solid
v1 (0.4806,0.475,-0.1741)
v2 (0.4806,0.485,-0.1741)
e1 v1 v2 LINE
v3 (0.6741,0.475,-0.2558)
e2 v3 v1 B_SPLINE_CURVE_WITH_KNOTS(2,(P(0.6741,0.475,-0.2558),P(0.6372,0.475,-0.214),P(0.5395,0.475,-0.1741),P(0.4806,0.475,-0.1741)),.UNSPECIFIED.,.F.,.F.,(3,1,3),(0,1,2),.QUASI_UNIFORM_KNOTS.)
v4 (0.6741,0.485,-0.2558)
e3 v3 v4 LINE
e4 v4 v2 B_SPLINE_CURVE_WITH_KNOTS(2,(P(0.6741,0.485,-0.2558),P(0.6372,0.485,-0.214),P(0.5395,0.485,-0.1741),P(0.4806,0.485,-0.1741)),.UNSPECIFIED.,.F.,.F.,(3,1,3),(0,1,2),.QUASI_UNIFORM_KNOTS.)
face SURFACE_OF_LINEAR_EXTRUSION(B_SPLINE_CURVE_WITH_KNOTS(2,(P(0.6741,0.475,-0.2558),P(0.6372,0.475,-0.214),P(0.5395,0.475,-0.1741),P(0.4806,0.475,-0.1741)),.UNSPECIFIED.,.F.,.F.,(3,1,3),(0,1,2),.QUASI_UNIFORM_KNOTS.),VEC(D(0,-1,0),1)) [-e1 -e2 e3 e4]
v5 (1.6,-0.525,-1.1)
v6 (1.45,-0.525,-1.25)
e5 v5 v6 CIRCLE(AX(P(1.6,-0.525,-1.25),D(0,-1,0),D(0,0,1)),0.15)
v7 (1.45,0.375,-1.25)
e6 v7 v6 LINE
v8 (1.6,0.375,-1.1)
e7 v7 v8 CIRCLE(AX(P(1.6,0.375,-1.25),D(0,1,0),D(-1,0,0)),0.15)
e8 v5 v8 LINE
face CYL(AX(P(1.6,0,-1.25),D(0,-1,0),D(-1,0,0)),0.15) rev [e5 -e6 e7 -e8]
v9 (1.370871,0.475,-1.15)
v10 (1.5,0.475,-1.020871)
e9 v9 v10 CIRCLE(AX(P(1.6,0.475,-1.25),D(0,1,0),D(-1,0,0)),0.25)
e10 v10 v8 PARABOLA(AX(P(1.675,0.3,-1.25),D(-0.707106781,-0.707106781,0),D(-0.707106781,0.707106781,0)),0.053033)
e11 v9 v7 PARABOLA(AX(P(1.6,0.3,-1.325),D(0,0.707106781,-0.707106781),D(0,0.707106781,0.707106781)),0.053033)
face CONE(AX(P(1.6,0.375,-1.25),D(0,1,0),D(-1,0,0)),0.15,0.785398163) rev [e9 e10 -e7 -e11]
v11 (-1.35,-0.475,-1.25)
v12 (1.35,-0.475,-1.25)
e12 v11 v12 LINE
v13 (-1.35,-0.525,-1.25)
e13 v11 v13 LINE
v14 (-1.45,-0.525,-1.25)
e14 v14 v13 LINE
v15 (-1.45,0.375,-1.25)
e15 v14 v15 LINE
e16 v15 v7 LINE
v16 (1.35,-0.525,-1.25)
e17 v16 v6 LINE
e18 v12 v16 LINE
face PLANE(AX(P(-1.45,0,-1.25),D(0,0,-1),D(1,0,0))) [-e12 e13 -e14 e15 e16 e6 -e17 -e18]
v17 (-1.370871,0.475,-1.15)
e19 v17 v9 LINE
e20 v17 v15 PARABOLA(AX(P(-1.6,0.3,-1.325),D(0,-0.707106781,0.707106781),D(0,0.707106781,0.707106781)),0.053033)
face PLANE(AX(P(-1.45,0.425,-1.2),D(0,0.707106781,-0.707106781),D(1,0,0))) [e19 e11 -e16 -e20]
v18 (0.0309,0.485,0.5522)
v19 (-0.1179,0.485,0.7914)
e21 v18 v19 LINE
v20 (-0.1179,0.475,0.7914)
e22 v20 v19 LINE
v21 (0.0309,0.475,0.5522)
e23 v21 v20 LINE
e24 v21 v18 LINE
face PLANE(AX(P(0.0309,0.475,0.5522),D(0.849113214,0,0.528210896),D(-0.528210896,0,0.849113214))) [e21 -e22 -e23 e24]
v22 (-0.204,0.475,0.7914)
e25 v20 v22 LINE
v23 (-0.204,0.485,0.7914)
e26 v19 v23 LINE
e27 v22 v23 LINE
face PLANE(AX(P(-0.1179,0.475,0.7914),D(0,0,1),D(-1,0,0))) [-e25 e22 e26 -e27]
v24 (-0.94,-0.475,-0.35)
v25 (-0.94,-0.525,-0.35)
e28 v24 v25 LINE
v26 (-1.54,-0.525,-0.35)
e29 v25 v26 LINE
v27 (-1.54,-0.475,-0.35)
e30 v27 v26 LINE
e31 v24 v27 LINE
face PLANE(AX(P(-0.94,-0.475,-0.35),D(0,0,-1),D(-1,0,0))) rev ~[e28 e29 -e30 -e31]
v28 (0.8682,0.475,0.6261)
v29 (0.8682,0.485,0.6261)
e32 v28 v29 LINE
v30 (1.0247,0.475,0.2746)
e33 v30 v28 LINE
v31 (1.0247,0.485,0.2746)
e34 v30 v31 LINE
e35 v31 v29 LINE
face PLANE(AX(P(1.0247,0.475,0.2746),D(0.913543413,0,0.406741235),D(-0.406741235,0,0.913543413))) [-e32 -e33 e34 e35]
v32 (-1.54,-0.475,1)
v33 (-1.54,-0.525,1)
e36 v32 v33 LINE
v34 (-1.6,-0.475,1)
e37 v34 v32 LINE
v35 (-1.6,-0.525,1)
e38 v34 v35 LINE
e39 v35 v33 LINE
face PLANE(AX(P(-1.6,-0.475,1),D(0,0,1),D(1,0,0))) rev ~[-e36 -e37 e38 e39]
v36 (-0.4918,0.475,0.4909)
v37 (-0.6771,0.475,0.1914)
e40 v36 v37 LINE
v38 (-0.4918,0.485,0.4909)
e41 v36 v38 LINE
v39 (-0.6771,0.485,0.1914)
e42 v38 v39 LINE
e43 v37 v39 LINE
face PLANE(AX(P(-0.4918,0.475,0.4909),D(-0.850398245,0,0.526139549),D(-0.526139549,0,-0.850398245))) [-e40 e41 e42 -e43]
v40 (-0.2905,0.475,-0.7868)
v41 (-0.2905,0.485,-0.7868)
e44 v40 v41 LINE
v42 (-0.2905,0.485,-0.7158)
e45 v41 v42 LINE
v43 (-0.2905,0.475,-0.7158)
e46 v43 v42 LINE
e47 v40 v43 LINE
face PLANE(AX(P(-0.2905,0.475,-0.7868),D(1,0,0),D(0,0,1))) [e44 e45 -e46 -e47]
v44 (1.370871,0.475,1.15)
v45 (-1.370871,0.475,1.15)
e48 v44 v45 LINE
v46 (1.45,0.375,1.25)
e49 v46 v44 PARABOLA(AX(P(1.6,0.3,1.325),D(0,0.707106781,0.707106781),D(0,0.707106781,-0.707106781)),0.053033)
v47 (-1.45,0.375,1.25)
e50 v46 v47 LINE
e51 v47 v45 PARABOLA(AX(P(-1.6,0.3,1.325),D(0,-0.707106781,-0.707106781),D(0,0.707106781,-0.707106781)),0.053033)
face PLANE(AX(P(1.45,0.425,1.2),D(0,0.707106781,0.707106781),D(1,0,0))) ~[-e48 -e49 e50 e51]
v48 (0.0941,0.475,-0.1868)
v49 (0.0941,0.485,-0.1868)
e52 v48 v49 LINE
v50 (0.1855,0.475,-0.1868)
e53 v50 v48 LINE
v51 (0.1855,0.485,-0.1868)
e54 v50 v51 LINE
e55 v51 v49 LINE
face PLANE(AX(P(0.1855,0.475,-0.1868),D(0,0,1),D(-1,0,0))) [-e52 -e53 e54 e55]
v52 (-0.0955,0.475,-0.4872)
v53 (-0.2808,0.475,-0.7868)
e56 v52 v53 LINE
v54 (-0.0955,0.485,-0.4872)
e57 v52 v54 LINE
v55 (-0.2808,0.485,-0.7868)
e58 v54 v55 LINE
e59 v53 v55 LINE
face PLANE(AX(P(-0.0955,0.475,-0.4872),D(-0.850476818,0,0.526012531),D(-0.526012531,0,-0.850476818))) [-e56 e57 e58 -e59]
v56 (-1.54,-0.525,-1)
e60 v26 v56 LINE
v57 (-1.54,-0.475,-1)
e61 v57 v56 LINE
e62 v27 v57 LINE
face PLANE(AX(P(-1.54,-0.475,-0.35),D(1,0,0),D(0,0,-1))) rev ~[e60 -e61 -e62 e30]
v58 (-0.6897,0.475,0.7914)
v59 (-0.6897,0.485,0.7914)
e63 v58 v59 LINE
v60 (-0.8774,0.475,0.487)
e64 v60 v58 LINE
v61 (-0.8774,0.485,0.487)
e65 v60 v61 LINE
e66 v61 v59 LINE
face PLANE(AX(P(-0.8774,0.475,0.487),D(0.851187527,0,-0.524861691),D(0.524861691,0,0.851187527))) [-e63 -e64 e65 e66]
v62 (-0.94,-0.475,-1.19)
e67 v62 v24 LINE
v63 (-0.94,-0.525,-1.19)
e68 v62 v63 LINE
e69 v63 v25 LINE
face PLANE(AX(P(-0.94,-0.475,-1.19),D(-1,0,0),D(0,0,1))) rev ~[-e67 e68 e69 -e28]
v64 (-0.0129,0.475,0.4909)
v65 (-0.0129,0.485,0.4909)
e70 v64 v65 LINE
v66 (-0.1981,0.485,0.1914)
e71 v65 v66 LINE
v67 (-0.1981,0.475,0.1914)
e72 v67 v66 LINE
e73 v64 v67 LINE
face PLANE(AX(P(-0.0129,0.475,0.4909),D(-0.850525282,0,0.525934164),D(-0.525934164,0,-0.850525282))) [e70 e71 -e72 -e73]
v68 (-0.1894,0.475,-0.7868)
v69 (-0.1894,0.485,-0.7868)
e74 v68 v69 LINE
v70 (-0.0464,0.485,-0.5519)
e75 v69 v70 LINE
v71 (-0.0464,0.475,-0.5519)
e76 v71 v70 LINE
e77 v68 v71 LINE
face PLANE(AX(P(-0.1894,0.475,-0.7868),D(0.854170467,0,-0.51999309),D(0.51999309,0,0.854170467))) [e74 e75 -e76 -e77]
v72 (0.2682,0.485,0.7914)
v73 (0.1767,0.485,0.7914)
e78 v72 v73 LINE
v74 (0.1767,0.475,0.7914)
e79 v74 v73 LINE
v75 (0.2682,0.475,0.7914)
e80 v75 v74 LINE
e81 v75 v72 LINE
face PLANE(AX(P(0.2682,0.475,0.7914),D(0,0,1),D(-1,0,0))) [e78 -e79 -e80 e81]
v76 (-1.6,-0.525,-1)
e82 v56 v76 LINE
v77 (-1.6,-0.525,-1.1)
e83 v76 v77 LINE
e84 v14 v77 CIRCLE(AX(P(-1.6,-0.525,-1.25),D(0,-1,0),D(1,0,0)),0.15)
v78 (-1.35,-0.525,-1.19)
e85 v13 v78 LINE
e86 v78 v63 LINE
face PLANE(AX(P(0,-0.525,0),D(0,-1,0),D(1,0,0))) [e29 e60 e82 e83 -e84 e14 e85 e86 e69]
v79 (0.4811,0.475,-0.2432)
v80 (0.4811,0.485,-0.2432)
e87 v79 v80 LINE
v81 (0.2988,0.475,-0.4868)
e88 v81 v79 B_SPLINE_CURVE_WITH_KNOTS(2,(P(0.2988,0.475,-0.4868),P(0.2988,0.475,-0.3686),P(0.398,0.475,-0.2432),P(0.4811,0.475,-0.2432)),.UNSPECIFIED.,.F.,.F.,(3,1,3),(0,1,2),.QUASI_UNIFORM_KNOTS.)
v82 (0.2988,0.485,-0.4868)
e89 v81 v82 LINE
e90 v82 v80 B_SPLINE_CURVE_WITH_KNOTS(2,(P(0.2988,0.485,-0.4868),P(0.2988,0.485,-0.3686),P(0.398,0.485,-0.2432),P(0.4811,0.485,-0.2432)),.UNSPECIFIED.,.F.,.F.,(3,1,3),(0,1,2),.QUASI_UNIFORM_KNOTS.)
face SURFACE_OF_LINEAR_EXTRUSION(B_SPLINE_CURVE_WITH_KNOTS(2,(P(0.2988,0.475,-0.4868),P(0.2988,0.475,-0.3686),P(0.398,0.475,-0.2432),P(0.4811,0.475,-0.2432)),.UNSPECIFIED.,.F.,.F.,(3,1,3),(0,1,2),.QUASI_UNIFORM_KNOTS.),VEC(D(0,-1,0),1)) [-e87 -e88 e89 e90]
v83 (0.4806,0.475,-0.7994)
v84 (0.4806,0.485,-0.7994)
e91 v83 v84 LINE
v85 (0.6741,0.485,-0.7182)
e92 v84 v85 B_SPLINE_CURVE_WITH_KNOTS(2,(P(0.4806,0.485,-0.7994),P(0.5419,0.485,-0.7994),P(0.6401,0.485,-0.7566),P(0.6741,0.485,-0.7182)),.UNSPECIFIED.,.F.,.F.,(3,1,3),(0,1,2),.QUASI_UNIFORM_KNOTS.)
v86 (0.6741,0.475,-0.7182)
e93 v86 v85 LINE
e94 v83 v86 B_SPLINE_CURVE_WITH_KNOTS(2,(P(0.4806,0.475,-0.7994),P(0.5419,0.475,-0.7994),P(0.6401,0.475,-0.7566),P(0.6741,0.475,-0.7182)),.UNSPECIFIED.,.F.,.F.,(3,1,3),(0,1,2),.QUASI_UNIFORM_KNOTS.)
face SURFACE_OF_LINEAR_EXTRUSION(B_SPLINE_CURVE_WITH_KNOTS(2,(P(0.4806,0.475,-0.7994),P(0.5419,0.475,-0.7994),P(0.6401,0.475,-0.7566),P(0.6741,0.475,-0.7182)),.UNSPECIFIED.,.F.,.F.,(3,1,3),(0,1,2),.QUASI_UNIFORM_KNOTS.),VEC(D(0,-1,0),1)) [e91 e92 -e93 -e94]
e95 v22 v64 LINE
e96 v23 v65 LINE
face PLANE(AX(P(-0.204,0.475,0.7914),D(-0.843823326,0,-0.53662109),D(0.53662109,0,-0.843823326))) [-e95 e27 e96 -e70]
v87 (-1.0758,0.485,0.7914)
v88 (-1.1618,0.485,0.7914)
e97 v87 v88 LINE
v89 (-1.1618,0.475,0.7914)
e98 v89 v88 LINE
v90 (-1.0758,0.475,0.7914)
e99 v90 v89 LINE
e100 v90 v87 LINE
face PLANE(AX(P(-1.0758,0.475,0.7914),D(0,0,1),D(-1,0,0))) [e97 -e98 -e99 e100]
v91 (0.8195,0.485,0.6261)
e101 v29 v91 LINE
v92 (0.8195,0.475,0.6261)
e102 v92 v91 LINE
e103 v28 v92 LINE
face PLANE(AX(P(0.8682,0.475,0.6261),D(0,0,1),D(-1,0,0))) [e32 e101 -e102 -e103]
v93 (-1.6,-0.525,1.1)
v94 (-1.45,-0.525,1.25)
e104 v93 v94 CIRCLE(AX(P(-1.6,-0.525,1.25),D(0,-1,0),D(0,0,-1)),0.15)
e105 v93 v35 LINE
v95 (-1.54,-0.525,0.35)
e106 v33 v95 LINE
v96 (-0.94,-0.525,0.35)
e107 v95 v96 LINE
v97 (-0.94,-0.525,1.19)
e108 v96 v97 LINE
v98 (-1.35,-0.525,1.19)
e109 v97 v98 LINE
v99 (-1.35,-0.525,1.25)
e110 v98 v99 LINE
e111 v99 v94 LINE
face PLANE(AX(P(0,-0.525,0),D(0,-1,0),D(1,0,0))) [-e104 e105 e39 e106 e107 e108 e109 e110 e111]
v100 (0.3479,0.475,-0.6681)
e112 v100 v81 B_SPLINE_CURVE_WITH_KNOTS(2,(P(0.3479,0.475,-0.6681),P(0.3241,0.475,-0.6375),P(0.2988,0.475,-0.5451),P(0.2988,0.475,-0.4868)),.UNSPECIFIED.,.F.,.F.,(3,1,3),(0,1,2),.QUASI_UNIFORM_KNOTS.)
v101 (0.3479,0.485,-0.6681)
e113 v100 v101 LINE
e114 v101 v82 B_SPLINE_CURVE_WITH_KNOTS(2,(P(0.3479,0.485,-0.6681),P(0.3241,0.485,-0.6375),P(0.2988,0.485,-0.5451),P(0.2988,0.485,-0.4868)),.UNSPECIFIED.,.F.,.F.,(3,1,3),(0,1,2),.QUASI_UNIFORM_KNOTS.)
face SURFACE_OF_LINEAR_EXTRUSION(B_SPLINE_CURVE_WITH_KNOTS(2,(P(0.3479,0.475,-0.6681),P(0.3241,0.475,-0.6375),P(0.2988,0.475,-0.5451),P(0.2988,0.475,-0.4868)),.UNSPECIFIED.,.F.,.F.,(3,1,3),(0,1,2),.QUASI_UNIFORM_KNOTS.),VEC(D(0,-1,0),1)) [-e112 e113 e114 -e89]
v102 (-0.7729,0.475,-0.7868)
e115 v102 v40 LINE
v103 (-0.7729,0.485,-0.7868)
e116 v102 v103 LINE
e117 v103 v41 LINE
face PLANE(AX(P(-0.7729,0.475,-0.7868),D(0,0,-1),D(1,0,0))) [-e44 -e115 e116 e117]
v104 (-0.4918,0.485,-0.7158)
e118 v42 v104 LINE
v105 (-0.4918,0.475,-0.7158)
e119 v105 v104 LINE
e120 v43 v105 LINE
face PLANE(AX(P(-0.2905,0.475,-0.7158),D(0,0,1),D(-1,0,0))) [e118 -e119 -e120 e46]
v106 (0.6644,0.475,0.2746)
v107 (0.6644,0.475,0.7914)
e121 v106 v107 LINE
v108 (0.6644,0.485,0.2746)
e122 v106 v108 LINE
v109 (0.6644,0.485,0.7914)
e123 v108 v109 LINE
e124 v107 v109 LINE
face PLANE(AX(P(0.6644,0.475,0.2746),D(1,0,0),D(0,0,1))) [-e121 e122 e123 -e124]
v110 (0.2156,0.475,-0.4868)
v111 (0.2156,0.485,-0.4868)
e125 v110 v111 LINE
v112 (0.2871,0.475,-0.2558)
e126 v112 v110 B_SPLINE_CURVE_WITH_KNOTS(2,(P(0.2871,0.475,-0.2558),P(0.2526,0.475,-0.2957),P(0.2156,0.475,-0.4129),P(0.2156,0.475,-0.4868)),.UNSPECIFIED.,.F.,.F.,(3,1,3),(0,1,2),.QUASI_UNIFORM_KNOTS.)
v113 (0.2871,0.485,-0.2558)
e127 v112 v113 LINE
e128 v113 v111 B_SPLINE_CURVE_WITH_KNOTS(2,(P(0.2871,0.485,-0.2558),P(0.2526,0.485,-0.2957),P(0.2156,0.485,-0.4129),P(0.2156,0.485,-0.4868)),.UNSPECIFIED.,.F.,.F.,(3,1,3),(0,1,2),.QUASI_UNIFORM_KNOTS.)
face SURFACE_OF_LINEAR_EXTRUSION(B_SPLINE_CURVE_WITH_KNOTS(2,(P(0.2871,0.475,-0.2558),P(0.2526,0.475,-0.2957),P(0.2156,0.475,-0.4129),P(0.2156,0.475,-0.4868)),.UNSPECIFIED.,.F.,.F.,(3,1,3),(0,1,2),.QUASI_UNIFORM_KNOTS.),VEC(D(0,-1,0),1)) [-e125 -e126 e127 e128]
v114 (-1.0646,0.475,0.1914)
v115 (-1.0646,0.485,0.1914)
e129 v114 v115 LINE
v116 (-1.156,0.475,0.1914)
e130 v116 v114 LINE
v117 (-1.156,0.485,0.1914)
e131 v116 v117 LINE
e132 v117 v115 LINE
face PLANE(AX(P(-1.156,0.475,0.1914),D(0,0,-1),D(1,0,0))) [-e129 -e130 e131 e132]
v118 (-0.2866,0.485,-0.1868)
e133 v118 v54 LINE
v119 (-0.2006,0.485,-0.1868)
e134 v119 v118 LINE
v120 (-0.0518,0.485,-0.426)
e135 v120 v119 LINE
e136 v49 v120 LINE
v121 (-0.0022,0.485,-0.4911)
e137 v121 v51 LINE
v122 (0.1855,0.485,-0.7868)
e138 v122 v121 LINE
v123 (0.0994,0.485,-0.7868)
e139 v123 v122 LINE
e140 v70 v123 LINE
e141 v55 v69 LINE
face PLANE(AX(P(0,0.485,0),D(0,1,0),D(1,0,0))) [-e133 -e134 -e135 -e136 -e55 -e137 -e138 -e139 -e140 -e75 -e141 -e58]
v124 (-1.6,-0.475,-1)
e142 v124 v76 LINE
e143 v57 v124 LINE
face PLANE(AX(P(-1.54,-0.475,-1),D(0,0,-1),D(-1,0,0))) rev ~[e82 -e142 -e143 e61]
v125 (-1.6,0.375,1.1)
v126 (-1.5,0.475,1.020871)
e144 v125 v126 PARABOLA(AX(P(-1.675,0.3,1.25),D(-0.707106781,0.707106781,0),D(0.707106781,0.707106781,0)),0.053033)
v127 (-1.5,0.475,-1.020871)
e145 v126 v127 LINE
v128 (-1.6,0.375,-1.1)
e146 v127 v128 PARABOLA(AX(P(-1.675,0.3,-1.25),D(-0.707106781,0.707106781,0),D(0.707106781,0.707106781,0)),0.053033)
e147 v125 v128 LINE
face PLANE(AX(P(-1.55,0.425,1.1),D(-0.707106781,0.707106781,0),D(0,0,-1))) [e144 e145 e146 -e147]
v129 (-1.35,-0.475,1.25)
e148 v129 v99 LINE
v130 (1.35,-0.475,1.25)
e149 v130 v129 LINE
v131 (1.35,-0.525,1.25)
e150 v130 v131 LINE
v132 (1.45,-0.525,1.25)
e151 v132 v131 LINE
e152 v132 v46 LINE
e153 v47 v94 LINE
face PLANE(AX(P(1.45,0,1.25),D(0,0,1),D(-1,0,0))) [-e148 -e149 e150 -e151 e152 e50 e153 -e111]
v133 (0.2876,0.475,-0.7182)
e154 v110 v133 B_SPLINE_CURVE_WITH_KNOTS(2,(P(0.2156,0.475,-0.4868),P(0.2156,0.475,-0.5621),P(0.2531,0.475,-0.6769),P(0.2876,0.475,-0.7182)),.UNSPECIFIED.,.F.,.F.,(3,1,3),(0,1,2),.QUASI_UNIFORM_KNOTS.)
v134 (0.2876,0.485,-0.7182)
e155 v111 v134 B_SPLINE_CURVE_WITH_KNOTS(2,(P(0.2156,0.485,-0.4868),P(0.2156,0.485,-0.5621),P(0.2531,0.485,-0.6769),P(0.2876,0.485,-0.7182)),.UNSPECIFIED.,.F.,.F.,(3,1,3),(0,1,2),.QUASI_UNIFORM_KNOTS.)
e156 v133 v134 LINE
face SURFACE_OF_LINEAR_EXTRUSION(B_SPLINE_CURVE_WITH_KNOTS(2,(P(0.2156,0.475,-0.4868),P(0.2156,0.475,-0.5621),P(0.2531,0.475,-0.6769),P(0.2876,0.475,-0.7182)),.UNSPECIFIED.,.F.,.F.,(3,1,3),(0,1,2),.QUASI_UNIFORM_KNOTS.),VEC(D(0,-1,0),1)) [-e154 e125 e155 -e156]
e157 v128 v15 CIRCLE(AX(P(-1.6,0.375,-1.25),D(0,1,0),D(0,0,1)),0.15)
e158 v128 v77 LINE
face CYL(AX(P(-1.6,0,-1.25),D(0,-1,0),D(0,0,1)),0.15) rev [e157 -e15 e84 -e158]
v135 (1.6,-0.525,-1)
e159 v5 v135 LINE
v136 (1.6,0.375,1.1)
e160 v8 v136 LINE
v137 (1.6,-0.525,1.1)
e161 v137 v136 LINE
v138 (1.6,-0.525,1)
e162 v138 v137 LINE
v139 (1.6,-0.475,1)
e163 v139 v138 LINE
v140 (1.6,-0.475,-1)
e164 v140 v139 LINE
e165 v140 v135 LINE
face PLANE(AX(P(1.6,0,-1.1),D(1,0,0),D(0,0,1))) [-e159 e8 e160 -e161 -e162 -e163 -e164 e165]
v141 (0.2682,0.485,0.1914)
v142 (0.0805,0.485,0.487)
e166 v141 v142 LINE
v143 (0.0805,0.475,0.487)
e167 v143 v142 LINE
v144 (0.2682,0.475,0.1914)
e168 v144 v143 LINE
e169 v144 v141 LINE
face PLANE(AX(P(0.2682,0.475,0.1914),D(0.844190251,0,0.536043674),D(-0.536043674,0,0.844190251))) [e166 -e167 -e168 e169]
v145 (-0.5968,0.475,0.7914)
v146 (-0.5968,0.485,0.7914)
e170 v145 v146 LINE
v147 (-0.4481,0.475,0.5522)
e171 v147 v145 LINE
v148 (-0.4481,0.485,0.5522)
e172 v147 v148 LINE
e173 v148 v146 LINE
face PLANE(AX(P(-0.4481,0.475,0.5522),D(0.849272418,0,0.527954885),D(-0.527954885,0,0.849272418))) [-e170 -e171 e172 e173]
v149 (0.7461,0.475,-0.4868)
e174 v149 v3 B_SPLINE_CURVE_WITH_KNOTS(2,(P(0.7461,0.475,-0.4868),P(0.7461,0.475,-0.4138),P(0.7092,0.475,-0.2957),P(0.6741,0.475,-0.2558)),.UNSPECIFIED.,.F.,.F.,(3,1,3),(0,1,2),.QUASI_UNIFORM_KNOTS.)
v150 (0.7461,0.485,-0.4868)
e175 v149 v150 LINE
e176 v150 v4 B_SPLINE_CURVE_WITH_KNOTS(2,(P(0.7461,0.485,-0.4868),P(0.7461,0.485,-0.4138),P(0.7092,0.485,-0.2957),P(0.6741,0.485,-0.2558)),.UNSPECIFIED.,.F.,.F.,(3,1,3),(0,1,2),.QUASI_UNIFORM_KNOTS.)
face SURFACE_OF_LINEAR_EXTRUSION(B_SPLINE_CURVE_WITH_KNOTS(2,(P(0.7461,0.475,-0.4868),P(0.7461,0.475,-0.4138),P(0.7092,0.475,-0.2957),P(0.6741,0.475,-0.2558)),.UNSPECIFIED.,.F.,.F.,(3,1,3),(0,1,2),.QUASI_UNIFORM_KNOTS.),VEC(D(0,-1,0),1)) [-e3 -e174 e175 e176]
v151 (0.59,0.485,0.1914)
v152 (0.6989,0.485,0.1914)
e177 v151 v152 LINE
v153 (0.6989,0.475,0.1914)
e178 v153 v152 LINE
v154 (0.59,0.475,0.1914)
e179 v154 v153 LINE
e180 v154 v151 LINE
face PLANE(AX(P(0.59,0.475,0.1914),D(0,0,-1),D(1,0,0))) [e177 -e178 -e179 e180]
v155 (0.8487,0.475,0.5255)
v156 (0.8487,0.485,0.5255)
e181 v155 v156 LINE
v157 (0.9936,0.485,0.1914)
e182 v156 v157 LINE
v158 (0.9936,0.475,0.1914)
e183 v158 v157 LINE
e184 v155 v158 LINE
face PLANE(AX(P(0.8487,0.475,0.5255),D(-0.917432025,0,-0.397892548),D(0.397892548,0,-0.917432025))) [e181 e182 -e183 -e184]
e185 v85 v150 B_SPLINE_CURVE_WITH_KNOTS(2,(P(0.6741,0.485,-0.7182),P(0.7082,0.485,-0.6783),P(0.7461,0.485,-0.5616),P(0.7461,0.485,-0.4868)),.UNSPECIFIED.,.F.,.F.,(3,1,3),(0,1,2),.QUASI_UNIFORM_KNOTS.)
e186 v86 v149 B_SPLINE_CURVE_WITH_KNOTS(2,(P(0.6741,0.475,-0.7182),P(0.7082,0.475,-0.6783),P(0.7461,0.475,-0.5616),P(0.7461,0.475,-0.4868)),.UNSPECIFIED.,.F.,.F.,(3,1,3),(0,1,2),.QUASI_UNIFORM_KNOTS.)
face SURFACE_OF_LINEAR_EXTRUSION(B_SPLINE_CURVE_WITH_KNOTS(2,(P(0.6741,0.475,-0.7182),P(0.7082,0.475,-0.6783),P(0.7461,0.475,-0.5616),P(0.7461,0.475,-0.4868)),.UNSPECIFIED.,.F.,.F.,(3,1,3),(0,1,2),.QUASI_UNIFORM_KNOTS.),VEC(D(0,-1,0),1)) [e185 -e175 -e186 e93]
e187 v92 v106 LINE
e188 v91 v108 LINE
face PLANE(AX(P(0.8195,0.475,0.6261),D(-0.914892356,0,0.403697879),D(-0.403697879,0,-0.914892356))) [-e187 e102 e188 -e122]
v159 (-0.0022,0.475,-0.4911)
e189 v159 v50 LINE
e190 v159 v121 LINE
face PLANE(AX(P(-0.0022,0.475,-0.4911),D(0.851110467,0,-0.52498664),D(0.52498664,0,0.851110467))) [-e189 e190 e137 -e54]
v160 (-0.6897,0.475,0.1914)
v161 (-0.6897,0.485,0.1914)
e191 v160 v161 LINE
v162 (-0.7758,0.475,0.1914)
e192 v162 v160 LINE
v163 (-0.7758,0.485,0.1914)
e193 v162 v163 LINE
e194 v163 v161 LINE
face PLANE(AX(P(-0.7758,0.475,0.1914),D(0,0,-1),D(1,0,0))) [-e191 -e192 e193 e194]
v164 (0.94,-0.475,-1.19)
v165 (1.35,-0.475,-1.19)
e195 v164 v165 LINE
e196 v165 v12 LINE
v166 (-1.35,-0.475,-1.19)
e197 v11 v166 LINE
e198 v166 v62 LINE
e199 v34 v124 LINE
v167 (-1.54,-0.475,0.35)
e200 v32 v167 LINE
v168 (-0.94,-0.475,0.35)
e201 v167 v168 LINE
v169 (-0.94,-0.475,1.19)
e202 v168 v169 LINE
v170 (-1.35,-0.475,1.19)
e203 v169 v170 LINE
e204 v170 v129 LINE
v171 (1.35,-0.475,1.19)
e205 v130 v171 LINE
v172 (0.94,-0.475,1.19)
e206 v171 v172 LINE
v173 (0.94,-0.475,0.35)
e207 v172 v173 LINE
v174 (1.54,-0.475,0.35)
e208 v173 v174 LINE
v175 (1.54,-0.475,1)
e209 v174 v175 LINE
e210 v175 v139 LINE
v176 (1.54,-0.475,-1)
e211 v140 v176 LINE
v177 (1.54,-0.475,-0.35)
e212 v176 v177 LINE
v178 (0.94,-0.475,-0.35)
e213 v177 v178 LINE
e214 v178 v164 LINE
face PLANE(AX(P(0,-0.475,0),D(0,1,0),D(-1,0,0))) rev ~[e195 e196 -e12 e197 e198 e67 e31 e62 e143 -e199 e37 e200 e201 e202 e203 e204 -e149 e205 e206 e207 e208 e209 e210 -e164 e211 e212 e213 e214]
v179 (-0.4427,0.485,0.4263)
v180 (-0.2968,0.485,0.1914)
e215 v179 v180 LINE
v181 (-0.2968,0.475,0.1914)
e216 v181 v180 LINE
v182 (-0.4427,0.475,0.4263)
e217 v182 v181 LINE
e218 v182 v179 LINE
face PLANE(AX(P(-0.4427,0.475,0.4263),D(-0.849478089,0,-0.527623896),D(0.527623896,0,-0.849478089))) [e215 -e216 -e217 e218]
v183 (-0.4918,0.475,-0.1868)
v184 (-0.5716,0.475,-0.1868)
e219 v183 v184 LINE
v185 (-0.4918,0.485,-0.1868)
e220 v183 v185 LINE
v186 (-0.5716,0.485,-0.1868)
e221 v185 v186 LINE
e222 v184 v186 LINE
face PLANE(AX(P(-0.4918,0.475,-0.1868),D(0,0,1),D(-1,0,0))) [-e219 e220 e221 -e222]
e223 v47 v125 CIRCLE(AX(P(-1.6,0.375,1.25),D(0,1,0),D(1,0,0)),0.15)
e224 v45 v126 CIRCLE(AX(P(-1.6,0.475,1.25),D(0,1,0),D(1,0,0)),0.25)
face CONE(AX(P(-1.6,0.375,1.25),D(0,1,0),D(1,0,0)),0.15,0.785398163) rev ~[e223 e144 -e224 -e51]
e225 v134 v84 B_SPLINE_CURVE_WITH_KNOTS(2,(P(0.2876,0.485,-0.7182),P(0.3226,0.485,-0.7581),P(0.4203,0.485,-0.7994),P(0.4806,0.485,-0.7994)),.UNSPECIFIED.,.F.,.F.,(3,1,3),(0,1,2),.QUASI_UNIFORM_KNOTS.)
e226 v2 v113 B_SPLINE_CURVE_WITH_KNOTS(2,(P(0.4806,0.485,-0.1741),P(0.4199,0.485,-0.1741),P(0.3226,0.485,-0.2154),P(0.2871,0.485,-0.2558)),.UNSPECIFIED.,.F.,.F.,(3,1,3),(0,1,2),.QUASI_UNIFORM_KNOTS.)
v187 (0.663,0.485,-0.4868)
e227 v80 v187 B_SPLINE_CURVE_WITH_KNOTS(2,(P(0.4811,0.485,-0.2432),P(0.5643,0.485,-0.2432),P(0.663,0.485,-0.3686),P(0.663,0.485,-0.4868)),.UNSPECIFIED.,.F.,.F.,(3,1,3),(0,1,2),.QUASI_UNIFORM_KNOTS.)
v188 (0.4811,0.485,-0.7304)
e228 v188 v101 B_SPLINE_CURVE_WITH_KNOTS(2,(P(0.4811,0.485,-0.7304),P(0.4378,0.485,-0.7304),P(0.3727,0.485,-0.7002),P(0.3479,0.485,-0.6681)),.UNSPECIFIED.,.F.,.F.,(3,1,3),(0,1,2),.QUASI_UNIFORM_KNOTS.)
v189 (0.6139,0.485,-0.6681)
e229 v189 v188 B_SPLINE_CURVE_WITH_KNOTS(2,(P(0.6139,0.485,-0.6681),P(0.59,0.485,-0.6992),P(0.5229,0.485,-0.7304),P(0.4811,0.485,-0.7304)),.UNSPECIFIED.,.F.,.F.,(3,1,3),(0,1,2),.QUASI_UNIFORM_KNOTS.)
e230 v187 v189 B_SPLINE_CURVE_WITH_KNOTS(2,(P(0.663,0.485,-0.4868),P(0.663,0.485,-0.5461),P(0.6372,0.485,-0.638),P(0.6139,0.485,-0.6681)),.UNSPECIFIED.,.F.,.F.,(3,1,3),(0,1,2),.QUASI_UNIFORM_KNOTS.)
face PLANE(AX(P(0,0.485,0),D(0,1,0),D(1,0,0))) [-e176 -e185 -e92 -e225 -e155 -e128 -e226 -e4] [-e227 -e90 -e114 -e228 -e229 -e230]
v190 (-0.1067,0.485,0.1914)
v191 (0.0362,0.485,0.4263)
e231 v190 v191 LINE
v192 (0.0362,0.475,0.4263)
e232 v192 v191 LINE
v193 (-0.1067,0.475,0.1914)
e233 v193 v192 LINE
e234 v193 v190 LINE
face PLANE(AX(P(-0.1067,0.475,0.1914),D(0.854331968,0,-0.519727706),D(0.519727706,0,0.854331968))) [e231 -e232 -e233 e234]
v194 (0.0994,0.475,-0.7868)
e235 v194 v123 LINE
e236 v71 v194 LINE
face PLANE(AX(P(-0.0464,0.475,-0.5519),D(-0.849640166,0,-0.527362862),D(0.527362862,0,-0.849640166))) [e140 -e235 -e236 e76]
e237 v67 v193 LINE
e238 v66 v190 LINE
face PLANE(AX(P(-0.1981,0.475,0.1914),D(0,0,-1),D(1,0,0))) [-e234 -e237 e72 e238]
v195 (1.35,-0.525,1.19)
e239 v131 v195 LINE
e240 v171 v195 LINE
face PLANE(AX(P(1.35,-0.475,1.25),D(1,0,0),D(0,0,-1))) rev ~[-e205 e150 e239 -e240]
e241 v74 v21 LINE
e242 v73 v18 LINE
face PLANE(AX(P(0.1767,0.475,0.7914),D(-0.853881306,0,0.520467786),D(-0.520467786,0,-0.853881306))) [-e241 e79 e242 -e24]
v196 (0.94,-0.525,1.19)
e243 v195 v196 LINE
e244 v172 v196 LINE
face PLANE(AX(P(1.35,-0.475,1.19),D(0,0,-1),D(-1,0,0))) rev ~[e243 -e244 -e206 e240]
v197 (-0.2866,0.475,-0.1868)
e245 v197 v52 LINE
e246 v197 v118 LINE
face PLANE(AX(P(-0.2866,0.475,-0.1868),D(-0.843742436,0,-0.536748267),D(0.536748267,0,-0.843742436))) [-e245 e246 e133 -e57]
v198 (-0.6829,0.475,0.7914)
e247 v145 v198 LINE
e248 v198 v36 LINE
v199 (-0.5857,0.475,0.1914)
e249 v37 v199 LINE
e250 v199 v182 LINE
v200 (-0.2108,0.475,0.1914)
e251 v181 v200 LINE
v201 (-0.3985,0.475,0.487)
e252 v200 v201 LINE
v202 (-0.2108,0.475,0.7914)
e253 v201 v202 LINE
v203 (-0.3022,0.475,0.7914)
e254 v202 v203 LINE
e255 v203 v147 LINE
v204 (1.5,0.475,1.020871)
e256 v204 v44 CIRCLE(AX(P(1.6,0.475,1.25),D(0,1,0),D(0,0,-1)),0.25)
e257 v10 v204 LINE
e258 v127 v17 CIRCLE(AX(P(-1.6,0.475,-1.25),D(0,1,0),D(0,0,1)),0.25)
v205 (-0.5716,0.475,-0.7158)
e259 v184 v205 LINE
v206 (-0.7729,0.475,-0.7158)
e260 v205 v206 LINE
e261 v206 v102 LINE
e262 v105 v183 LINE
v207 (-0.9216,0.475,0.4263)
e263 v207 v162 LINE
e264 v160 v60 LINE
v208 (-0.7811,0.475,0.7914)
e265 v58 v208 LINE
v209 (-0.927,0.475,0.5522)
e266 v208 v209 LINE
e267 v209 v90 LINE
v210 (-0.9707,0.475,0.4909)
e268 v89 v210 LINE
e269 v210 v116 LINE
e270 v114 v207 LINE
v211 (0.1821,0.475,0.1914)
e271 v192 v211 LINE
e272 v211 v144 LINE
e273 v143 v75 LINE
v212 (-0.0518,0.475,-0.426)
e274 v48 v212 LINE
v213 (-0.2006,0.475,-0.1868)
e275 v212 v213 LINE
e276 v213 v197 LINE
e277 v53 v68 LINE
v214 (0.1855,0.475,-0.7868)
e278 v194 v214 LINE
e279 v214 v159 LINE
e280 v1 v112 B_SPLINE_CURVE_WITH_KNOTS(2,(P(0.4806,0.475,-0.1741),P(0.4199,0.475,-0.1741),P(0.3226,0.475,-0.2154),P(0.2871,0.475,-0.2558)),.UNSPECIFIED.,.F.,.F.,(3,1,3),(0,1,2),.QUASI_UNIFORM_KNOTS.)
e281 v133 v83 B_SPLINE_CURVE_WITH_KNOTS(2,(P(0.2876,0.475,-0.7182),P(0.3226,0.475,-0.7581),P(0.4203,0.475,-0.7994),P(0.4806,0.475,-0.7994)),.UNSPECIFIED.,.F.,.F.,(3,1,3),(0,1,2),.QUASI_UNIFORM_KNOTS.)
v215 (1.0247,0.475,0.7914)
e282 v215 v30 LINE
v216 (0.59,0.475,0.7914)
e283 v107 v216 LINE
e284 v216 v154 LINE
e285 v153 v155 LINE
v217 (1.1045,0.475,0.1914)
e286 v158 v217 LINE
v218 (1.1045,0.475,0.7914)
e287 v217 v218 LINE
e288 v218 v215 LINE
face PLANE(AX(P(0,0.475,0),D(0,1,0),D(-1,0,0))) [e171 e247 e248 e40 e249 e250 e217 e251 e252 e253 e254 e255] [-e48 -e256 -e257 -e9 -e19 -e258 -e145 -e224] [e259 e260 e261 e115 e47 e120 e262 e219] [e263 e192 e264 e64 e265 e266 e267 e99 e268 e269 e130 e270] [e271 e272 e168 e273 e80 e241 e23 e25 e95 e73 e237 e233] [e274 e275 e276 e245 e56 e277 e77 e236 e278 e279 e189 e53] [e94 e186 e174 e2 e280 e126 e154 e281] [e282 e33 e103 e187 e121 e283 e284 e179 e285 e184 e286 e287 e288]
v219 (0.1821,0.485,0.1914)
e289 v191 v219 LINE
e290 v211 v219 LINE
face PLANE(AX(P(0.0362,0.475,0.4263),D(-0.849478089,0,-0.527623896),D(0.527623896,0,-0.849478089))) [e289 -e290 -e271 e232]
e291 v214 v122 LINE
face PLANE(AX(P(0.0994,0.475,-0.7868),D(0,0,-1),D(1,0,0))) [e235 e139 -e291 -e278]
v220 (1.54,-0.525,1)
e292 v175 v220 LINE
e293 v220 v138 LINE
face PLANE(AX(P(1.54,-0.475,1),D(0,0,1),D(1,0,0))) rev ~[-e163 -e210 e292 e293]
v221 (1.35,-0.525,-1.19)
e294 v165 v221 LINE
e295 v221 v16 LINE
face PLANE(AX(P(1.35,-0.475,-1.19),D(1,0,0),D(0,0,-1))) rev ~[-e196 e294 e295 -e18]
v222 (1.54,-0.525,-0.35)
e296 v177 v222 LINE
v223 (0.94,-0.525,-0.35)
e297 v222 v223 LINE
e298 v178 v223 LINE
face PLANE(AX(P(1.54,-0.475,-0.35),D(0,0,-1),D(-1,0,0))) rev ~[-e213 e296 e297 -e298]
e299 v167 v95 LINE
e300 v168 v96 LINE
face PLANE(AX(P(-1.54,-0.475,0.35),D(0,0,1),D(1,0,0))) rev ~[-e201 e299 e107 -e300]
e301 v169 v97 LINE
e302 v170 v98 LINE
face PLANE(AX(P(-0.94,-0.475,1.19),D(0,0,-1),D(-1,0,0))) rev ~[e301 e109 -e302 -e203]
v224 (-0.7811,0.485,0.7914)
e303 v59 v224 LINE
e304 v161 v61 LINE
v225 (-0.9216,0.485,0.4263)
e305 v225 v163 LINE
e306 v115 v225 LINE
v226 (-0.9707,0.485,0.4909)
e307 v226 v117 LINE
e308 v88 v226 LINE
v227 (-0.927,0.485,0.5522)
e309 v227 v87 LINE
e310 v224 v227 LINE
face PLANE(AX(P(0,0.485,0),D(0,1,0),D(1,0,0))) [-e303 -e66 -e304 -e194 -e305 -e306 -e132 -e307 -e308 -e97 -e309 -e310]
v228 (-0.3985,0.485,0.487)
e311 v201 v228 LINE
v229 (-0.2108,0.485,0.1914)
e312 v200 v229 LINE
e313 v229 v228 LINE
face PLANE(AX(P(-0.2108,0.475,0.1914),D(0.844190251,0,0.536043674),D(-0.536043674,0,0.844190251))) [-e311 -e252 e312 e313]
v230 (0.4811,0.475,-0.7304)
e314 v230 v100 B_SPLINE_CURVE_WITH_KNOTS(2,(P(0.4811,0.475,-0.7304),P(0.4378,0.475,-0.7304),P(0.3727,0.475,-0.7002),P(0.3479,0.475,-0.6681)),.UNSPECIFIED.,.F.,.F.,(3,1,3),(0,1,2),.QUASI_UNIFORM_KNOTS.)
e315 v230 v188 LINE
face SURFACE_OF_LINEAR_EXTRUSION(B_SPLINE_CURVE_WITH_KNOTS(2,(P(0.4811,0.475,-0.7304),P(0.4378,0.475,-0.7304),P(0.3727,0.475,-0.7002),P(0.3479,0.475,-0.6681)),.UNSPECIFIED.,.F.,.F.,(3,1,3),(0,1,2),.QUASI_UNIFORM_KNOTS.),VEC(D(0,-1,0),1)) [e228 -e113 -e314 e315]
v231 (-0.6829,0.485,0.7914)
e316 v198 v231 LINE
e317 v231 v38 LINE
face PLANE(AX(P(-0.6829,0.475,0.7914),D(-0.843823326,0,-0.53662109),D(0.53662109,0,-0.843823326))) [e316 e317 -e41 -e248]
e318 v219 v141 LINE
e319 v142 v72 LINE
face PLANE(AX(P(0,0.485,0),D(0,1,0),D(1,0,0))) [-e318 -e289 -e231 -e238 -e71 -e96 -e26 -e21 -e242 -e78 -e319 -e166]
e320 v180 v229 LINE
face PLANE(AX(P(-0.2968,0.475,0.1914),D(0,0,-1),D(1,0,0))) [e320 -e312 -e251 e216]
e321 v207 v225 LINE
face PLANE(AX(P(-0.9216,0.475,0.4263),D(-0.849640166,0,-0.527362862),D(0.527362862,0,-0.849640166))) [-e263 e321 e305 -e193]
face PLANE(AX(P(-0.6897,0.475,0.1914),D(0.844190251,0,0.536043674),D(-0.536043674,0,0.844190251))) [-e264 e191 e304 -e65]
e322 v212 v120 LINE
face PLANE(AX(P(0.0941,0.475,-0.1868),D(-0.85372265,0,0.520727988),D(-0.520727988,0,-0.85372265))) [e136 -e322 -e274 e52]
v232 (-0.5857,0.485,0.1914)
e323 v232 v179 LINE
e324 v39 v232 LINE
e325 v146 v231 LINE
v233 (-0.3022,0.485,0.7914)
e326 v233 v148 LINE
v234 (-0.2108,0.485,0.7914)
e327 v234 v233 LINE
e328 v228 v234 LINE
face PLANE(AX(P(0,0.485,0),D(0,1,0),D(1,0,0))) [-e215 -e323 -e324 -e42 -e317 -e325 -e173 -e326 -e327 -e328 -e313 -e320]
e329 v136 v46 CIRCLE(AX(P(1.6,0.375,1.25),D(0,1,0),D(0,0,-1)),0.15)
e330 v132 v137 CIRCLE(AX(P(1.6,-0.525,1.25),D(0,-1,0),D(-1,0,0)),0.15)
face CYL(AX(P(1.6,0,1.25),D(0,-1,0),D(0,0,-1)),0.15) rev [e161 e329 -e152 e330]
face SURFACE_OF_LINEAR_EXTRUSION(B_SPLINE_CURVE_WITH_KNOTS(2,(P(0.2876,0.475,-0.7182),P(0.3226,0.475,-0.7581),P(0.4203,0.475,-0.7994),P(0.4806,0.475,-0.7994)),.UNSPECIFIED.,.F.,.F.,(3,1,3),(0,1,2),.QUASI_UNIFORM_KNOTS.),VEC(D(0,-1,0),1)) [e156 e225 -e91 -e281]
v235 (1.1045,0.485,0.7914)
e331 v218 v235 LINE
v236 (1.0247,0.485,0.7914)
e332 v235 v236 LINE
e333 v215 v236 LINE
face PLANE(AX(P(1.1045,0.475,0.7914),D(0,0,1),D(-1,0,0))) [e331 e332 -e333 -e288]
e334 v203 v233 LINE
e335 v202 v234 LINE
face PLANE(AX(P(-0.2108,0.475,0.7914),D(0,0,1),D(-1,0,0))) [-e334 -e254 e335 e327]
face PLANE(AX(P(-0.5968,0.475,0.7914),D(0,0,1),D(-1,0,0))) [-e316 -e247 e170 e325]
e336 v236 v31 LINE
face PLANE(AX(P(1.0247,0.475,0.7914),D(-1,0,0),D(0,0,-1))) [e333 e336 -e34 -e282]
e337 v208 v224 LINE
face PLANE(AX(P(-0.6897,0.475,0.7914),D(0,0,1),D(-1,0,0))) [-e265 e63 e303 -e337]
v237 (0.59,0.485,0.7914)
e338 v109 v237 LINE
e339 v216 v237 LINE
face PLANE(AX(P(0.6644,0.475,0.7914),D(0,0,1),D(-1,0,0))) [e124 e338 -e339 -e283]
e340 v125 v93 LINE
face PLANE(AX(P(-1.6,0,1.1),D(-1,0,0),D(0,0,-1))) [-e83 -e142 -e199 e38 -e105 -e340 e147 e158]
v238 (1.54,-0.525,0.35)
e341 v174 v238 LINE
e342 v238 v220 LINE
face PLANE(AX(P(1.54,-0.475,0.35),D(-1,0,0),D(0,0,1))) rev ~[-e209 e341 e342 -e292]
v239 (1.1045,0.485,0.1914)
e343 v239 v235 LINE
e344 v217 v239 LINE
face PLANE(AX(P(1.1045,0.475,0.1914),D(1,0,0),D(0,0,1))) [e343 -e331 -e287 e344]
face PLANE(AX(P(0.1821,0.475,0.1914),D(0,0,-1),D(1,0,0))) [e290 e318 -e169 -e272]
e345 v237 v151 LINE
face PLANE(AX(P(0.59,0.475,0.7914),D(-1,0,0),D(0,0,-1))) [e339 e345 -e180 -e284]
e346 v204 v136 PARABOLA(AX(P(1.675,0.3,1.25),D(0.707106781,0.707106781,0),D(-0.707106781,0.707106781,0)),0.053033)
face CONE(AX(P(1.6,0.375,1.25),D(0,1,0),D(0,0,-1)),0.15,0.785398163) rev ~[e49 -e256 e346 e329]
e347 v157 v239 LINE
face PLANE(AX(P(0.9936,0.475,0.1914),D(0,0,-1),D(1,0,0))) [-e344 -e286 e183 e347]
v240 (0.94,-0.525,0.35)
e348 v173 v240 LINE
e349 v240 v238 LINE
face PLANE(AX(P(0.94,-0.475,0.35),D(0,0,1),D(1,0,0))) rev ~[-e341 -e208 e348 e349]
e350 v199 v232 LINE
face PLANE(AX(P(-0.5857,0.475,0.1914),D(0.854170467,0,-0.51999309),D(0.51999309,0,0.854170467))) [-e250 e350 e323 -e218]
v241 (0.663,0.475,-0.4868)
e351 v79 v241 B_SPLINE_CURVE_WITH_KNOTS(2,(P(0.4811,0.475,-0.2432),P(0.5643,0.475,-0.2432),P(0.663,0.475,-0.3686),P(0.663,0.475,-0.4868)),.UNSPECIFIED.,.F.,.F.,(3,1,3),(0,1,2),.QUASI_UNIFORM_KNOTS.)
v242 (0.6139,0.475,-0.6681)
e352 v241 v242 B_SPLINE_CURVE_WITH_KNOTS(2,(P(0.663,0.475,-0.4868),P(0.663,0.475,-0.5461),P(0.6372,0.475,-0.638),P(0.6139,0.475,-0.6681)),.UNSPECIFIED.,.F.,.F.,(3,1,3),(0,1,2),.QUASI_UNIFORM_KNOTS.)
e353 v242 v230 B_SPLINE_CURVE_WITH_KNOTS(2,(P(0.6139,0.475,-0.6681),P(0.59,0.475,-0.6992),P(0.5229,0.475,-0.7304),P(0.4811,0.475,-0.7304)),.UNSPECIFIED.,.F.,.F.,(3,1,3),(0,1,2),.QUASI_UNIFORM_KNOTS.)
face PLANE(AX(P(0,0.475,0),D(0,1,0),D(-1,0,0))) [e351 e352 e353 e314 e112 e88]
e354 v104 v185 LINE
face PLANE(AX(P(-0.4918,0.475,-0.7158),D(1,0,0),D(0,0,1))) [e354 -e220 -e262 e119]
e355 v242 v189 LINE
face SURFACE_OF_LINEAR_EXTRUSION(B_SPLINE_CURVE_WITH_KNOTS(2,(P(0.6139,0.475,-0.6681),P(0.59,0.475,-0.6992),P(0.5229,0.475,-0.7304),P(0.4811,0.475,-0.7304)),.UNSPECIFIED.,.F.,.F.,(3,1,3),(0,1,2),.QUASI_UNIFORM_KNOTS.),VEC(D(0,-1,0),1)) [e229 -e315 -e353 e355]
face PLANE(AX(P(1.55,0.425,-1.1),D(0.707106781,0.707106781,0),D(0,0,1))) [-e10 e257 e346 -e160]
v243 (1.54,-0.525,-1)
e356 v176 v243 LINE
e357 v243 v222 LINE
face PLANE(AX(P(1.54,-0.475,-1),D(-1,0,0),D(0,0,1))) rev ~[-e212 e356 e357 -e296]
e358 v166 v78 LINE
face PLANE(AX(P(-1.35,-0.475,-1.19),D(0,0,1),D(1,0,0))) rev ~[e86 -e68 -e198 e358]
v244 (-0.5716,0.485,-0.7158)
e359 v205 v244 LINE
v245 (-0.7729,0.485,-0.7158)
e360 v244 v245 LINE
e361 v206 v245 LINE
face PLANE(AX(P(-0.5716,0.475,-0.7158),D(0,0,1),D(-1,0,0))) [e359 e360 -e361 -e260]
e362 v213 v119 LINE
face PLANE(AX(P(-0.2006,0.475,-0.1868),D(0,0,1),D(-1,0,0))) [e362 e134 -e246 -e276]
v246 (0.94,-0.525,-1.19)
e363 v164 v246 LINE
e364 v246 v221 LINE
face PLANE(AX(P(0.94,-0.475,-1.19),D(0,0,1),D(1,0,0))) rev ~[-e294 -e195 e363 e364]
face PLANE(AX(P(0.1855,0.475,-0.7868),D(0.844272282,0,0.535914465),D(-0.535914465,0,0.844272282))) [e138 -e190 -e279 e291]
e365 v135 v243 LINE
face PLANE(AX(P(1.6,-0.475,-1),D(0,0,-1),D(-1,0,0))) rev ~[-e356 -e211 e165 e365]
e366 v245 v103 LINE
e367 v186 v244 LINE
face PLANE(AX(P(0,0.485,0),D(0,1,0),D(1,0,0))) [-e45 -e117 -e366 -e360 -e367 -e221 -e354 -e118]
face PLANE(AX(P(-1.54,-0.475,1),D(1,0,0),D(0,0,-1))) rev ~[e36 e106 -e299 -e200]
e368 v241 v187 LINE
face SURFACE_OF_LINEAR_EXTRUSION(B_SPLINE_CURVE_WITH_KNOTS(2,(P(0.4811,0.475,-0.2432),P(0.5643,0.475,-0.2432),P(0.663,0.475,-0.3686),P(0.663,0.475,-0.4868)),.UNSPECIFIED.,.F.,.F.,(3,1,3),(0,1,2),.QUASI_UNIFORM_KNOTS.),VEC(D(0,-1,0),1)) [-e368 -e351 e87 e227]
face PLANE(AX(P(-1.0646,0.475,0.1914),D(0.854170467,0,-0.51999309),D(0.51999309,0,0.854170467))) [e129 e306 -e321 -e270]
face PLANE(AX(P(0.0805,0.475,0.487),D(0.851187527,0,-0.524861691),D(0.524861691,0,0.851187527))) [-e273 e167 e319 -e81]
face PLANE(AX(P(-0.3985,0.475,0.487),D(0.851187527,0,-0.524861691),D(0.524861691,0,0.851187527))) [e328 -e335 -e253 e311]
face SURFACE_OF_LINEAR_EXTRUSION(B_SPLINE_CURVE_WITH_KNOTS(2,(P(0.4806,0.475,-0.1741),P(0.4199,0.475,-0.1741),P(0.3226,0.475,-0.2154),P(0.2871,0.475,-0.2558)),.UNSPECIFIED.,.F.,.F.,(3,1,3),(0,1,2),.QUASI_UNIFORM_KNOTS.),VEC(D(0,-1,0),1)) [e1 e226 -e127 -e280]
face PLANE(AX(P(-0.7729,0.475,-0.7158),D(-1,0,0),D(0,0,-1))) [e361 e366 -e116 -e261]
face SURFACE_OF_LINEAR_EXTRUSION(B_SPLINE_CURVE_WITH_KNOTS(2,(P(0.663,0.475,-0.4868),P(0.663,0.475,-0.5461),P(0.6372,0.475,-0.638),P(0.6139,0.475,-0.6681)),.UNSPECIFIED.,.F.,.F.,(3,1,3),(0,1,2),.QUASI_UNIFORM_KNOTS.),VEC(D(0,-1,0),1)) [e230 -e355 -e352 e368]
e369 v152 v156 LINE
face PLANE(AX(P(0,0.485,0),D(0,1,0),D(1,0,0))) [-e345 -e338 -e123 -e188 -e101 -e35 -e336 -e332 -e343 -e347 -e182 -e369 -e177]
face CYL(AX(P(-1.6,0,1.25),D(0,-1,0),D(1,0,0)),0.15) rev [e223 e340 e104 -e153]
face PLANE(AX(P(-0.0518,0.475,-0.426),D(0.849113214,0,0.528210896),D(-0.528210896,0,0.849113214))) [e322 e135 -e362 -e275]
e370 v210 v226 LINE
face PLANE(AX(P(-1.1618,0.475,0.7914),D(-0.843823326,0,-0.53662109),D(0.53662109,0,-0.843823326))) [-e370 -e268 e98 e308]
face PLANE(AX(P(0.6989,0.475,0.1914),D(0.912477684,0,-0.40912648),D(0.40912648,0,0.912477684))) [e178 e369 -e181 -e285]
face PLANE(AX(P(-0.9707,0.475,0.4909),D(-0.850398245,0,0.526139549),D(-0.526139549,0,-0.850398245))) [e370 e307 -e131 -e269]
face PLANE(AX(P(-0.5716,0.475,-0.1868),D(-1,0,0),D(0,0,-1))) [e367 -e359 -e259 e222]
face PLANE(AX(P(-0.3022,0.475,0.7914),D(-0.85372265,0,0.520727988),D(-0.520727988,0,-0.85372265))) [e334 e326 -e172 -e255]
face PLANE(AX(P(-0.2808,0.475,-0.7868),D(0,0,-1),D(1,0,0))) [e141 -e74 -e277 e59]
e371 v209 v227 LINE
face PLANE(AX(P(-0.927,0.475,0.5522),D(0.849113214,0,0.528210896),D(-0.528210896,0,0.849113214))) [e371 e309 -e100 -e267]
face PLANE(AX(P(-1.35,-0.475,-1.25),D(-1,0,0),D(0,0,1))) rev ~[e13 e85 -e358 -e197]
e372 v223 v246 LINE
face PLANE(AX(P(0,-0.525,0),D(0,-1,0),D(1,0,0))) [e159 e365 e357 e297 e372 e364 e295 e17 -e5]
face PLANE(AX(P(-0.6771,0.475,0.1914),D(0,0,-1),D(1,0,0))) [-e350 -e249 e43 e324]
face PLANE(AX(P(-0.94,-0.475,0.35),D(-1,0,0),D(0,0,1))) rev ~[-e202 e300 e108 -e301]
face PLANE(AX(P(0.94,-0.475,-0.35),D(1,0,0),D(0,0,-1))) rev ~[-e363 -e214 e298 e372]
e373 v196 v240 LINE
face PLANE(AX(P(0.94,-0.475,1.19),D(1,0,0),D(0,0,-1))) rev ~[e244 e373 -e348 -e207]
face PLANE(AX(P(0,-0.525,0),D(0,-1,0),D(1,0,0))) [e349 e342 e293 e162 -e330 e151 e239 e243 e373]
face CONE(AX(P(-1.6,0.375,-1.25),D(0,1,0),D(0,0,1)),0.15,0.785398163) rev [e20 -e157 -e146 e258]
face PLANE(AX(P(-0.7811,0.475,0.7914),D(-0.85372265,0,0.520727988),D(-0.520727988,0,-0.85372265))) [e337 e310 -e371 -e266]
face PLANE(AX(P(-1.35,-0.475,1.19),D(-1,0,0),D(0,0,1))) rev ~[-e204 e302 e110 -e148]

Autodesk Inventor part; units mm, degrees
ref_plane "YZ Plane" through (0, 0, 0) normal (1, 0, 0) x (0, 1, 0)
ref_plane "XZ Plane" through (0, 0, 0) normal (0, 1, 0) x (-1, 0, 0)
ref_plane "XY Plane" through (0, 0, 0) normal (0, 0, 1) x (1, 0, 0)
sketch "Sketch1" plane through (0, 0, 0) normal (0, 1, 0) x (-1, 0, 0)
  line L0 (-1.6, 1.25) -> (1.6, 1.25)
  line L1 (1.6, 1.25) -> (1.6, -1.25)
  line L2 (1.6, -1.25) -> (-1.6, -1.25)
  line L3 (-1.6, -1.25) -> (-1.6, 1.25)
  line L4 (-1.6, 1.25) -> (1.6, -1.25) construction
  line L5 (1.6, 1.25) -> (-1.6, -1.25) construction
  arc A0 (1.6, -1.1) -> (1.45, -1.25) centre (1.6, -1.25) ccw
  arc A1 (-1.45, -1.25) -> (-1.6, -1.1) centre (-1.6, -1.25) ccw
  arc A2 (-1.6, 1.1) -> (-1.45, 1.25) centre (-1.6, 1.25) ccw
  arc A3 (1.45, 1.25) -> (1.6, 1.1) centre (1.6, 1.25) ccw
  point P0 (0, 0)
  dimension "d0" = 3.2
  dimension "d1" = 2.5
  dimension "d4" = 0.15
extrude "Extrusion1" add sketch "Sketch1" along normal mid plane 0.95 contours L0 A3 L1 A0 L2 A1 L3 A2
chamfer "Chamfer1" distance 0.1 angle 45 8 edges at (0, 0.475, 1.25) (-1.4939, 0.475, 1.1439) (-1.6, 0.475, 0) (-1.4939, 0.475, -1.1439) (0, 0.475, -1.25) (1.4939, 0.475, -1.1439) (1.6, 0.475, 0) (1.4939, 0.475, 1.1439)
sketch "Sketch3" plane through (0, 0.475, 0) normal (0, 1, 0) x (1, 0, 0)
  line L0 (-1.3709, 1.15) -> (1.3709, 1.15) projected
  arc A0 (-1.5, 1.0209) -> (-1.3709, 1.15) centre (-1.6, 1.25) ccw projected
  line L1 (-1.5, -1.0209) -> (-1.5, 1.0209) projected
  arc A1 (-1.3709, -1.15) -> (-1.5, -1.0209) centre (-1.6, -1.25) ccw projected
  line L2 (1.3709, -1.15) -> (-1.3709, -1.15) projected
  arc A2 (1.5, -1.0209) -> (1.3709, -1.15) centre (1.6, -1.25) ccw projected
  line L3 (1.5, 1.0209) -> (1.5, -1.0209) projected
  arc A3 (1.3709, 1.15) -> (1.5, 1.0209) centre (1.6, 1.25) ccw projected
  line L4 (1.5, 1.0209) -> (1.5, -1.0209) construction
  line L5 (1.5, 0.1868) -> (-1.5, 0.1868) construction
  line L6 (-0.5716, 0.1868) -> (-0.5716, 0.7158)
  line L7 (-0.5716, 0.7158) -> (-0.7729, 0.7158)
  line L8 (-0.7729, 0.7158) -> (-0.7729, 0.7868)
  line L9 (-0.7729, 0.7868) -> (-0.2905, 0.7868)
  line L10 (-0.2905, 0.7868) -> (-0.2905, 0.7158)
  line L11 (-0.2905, 0.7158) -> (-0.4918, 0.7158)
  line L12 (-0.4918, 0.7158) -> (-0.4918, 0.1868)
  line L13 (-0.4918, 0.1868) -> (-0.5716, 0.1868)
  line L14 (0.1855, 0.1868) -> (0.0941, 0.1868)
  line L15 (0.0941, 0.1868) -> (-0.0518, 0.426)
  line L16 (-0.0518, 0.426) -> (-0.2006, 0.1868)
  line L17 (-0.2006, 0.1868) -> (-0.2866, 0.1868)
  line L18 (-0.2866, 0.1868) -> (-0.0955, 0.4872)
  line L19 (-0.0955, 0.4872) -> (-0.2808, 0.7868)
  line L20 (-0.2808, 0.7868) -> (-0.1894, 0.7868)
  line L21 (-0.1894, 0.7868) -> (-0.0464, 0.5519)
  line L22 (-0.0464, 0.5519) -> (0.0994, 0.7868)
  line L23 (0.0994, 0.7868) -> (0.1855, 0.7868)
  line L24 (0.1855, 0.7868) -> (-0.0022, 0.4911)
  line L25 (-0.0022, 0.4911) -> (0.1855, 0.1868)
  spline S0 degree 2 poles (0.6741, 0.7182) (0.7082, 0.6783) (0.7461, 0.5616) (0.7461, 0.4868) knots 0 0 0 1 2 2 2
  spline S1 degree 2 poles (0.7461, 0.4868) (0.7461, 0.4138) (0.7092, 0.2957) (0.6741, 0.2558) knots 0 0 0 1 2 2 2
  spline S2 degree 2 poles (0.6741, 0.2558) (0.6372, 0.214) (0.5395, 0.1741) (0.4806, 0.1741) knots 0 0 0 1 2 2 2
  spline S3 degree 2 poles (0.4806, 0.1741) (0.4199, 0.1741) (0.3226, 0.2154) (0.2871, 0.2558) knots 0 0 0 1 2 2 2
  spline S4 degree 2 poles (0.2871, 0.2558) (0.2526, 0.2957) (0.2156, 0.4129) (0.2156, 0.4868) knots 0 0 0 1 2 2 2
  spline S5 degree 2 poles (0.2156, 0.4868) (0.2156, 0.5621) (0.2531, 0.6769) (0.2876, 0.7182) knots 0 0 0 1 2 2 2
  spline S6 degree 2 poles (0.2876, 0.7182) (0.3226, 0.7581) (0.4203, 0.7994) (0.4806, 0.7994) knots 0 0 0 1 2 2 2
  spline S7 degree 2 poles (0.4806, 0.7994) (0.5419, 0.7994) (0.6401, 0.7566) (0.6741, 0.7182) knots 0 0 0 1 2 2 2
  spline S8 degree 2 poles (0.663, 0.4868) (0.663, 0.5461) (0.6372, 0.638) (0.6139, 0.6681) knots 0 0 0 1 2 2 2
  spline S9 degree 2 poles (0.6139, 0.6681) (0.59, 0.6992) (0.5229, 0.7304) (0.4811, 0.7304) knots 0 0 0 1 2 2 2
  spline S10 degree 2 poles (0.4811, 0.7304) (0.4378, 0.7304) (0.3727, 0.7002) (0.3479, 0.6681) knots 0 0 0 1 2 2 2
  spline S11 degree 2 poles (0.3479, 0.6681) (0.3241, 0.6375) (0.2988, 0.5451) (0.2988, 0.4868) knots 0 0 0 1 2 2 2
  spline S12 degree 2 poles (0.2988, 0.4868) (0.2988, 0.3686) (0.398, 0.2432) (0.4811, 0.2432) knots 0 0 0 1 2 2 2
  spline S13 degree 2 poles (0.4811, 0.2432) (0.5643, 0.2432) (0.663, 0.3686) (0.663, 0.4868) knots 0 0 0 1 2 2 2
  line L26 (-0.6897, -0.7914) -> (-0.7811, -0.7914)
  line L27 (-0.7811, -0.7914) -> (-0.927, -0.5522)
  line L28 (-0.927, -0.5522) -> (-1.0758, -0.7914)
  line L29 (-1.0758, -0.7914) -> (-1.1618, -0.7914)
  line L30 (-1.1618, -0.7914) -> (-0.9707, -0.4909)
  line L31 (-0.9707, -0.4909) -> (-1.156, -0.1914)
  line L32 (-1.156, -0.1914) -> (-1.0646, -0.1914)
  line L33 (-1.0646, -0.1914) -> (-0.9216, -0.4263)
  line L34 (-0.9216, -0.4263) -> (-0.7758, -0.1914)
  line L35 (-0.7758, -0.1914) -> (-0.6897, -0.1914)
  line L36 (-0.6897, -0.1914) -> (-0.8774, -0.487)
  line L37 (-0.8774, -0.487) -> (-0.6897, -0.7914)
  line L38 (-0.2108, -0.7914) -> (-0.3022, -0.7914)
  line L39 (-0.3022, -0.7914) -> (-0.4481, -0.5522)
  line L40 (-0.4481, -0.5522) -> (-0.5968, -0.7914)
  line L41 (-0.5968, -0.7914) -> (-0.6829, -0.7914)
  line L42 (-0.6829, -0.7914) -> (-0.4918, -0.4909)
  line L43 (-0.4918, -0.4909) -> (-0.6771, -0.1914)
  line L44 (-0.6771, -0.1914) -> (-0.5857, -0.1914)
  line L45 (-0.5857, -0.1914) -> (-0.4427, -0.4263)
  line L46 (-0.4427, -0.4263) -> (-0.2968, -0.1914)
  line L47 (-0.2968, -0.1914) -> (-0.2108, -0.1914)
  line L48 (-0.2108, -0.1914) -> (-0.3985, -0.487)
  line L49 (-0.3985, -0.487) -> (-0.2108, -0.7914)
  line L50 (0.2682, -0.7914) -> (0.1767, -0.7914)
  line L51 (0.1767, -0.7914) -> (0.0309, -0.5522)
  line L52 (0.0309, -0.5522) -> (-0.1179, -0.7914)
  line L53 (-0.1179, -0.7914) -> (-0.204, -0.7914)
  line L54 (-0.204, -0.7914) -> (-0.0129, -0.4909)
  line L55 (-0.0129, -0.4909) -> (-0.1981, -0.1914)
  line L56 (-0.1981, -0.1914) -> (-0.1067, -0.1914)
  line L57 (-0.1067, -0.1914) -> (0.0362, -0.4263)
  line L58 (0.0362, -0.4263) -> (0.1821, -0.1914)
  line L59 (0.1821, -0.1914) -> (0.2682, -0.1914)
  line L60 (0.2682, -0.1914) -> (0.0805, -0.487)
  line L61 (0.0805, -0.487) -> (0.2682, -0.7914)
  line L62 (1.1045, -0.7914) -> (1.0247, -0.7914)
  line L63 (1.0247, -0.7914) -> (1.0247, -0.2746)
  line L64 (1.0247, -0.2746) -> (0.8682, -0.6261)
  line L65 (0.8682, -0.6261) -> (0.8195, -0.6261)
  line L66 (0.8195, -0.6261) -> (0.6644, -0.2746)
  line L67 (0.6644, -0.2746) -> (0.6644, -0.7914)
  line L68 (0.6644, -0.7914) -> (0.59, -0.7914)
  line L69 (0.59, -0.7914) -> (0.59, -0.1914)
  line L70 (0.59, -0.1914) -> (0.6989, -0.1914)
  line L71 (0.6989, -0.1914) -> (0.8487, -0.5255)
  line L72 (0.8487, -0.5255) -> (0.9936, -0.1914)
  line L73 (0.9936, -0.1914) -> (1.1045, -0.1914)
  line L74 (1.1045, -0.1914) -> (1.1045, -0.7914)
  point P0 (0, 0)
extrude "Extrusion3" add sketch "Sketch3" along normal blind 0.01 contours L6 L7 L8 L9 L10 L11 L12 L13 | L14 L15 L16 L17 L18 L19 L20 L21 L22 L23 L24 L25 | S0 S1 S2 S3 S4 S5 S6 S7 | L26 L27 L28 L29 L30 L31 L32 L33 L34 L35 L36 L37 | L38 L39 L40 L41 L42 L43 L44 L45 L46 L47 L48 L49 | L50 L51 L52 L53 L54 L55 L56 L57 L58 L59 L60 L61 | L62 L63 L64 L65 L66 L67 L68 L69 L70 L71 L72 L73 L74
sketch "Sketch4" plane through (0, -0.475, 0) normal (0, -1, 0) x (1, 0, 0)
  line L0 (-1.6, 1.1) -> (-1.6, -1.1) projected
  arc A0 (-1.45, -1.25) -> (-1.6, -1.1) centre (-1.6, -1.25) ccw projected
  line L1 (-1.45, -1.25) -> (1.45, -1.25) projected
  arc A1 (1.6, -1.1) -> (1.45, -1.25) centre (1.6, -1.25) ccw projected
  line L2 (1.6, -1.1) -> (1.6, 1.1) projected
  arc A2 (1.45, 1.25) -> (1.6, 1.1) centre (1.6, 1.25) ccw projected
  line L3 (1.45, 1.25) -> (-1.45, 1.25) projected
  arc A3 (-1.6, 1.1) -> (-1.45, 1.25) centre (-1.6, 1.25) ccw projected
  line L4 (1.35, 1.25) -> (1.35, 1.19)
  line L5 (1.35, 1.19) -> (0.94, 1.19)
  line L6 (0.94, 1.19) -> (0.94, 0.35)
  line L7 (0.94, 0.35) -> (1.54, 0.35)
  line L8 (1.54, 0.35) -> (1.54, 1)
  line L9 (1.54, 1) -> (1.6, 1)
  line L10 (-1.6, -1.1) -> (-1.6, 1.1) projected
  line L11 (-1.6, 1) -> (-1.54, 1)
  line L12 (-1.54, 1) -> (-1.54, 0.35)
  line L13 (-1.54, 0.35) -> (-0.94, 0.35)
  line L14 (-0.94, 0.35) -> (-0.94, 1.19)
  line L15 (-0.94, 1.19) -> (-1.35, 1.19)
  line L16 (-1.35, 1.19) -> (-1.35, 1.25)
  line L17 (1.45, -1.25) -> (-1.45, -1.25) projected
  line L18 (-1.35, -1.25) -> (-1.35, -1.19)
  line L19 (-1.35, -1.19) -> (-0.94, -1.19)
  line L20 (-0.94, -1.19) -> (-0.94, -0.35)
  line L21 (-0.94, -0.35) -> (-1.54, -0.35)
  line L22 (-1.54, -0.35) -> (-1.54, -1)
  line L23 (-1.54, -1) -> (-1.6, -1)
  line L24 (1.6, -1) -> (1.54, -1)
  line L25 (1.54, -1) -> (1.54, -0.35)
  line L26 (1.54, -0.35) -> (0.94, -0.35)
  line L27 (0.94, -0.35) -> (0.94, -1.19)
  line L28 (0.94, -1.19) -> (1.35, -1.19)
  line L29 (1.35, -1.19) -> (1.35, -1.25)
  point P0 (0, 0)
  dimension "d20" = 0.84
  dimension "d21" = 0.6
  dimension "d22" = 1.88
  dimension "d23" = 0.25
  dimension "d24" = 0.25
extrude "Extrusion5" add sketch "Sketch4" along normal blind 0.05 contours A3 L3 L16 L15 L14 L13 L12 L11 L0 | L23 L22 L21 L20 L19 L18 L1 A0 L0 | L3 A2 L2 L9 L8 L7 L6 L5 L4 | L29 L28 L27 L26 L25 L24 L2 A1 L1
equation "\"d24\" = d23"
properties part number "Crystal_TXO-3225" material "Aluminum 6061"
